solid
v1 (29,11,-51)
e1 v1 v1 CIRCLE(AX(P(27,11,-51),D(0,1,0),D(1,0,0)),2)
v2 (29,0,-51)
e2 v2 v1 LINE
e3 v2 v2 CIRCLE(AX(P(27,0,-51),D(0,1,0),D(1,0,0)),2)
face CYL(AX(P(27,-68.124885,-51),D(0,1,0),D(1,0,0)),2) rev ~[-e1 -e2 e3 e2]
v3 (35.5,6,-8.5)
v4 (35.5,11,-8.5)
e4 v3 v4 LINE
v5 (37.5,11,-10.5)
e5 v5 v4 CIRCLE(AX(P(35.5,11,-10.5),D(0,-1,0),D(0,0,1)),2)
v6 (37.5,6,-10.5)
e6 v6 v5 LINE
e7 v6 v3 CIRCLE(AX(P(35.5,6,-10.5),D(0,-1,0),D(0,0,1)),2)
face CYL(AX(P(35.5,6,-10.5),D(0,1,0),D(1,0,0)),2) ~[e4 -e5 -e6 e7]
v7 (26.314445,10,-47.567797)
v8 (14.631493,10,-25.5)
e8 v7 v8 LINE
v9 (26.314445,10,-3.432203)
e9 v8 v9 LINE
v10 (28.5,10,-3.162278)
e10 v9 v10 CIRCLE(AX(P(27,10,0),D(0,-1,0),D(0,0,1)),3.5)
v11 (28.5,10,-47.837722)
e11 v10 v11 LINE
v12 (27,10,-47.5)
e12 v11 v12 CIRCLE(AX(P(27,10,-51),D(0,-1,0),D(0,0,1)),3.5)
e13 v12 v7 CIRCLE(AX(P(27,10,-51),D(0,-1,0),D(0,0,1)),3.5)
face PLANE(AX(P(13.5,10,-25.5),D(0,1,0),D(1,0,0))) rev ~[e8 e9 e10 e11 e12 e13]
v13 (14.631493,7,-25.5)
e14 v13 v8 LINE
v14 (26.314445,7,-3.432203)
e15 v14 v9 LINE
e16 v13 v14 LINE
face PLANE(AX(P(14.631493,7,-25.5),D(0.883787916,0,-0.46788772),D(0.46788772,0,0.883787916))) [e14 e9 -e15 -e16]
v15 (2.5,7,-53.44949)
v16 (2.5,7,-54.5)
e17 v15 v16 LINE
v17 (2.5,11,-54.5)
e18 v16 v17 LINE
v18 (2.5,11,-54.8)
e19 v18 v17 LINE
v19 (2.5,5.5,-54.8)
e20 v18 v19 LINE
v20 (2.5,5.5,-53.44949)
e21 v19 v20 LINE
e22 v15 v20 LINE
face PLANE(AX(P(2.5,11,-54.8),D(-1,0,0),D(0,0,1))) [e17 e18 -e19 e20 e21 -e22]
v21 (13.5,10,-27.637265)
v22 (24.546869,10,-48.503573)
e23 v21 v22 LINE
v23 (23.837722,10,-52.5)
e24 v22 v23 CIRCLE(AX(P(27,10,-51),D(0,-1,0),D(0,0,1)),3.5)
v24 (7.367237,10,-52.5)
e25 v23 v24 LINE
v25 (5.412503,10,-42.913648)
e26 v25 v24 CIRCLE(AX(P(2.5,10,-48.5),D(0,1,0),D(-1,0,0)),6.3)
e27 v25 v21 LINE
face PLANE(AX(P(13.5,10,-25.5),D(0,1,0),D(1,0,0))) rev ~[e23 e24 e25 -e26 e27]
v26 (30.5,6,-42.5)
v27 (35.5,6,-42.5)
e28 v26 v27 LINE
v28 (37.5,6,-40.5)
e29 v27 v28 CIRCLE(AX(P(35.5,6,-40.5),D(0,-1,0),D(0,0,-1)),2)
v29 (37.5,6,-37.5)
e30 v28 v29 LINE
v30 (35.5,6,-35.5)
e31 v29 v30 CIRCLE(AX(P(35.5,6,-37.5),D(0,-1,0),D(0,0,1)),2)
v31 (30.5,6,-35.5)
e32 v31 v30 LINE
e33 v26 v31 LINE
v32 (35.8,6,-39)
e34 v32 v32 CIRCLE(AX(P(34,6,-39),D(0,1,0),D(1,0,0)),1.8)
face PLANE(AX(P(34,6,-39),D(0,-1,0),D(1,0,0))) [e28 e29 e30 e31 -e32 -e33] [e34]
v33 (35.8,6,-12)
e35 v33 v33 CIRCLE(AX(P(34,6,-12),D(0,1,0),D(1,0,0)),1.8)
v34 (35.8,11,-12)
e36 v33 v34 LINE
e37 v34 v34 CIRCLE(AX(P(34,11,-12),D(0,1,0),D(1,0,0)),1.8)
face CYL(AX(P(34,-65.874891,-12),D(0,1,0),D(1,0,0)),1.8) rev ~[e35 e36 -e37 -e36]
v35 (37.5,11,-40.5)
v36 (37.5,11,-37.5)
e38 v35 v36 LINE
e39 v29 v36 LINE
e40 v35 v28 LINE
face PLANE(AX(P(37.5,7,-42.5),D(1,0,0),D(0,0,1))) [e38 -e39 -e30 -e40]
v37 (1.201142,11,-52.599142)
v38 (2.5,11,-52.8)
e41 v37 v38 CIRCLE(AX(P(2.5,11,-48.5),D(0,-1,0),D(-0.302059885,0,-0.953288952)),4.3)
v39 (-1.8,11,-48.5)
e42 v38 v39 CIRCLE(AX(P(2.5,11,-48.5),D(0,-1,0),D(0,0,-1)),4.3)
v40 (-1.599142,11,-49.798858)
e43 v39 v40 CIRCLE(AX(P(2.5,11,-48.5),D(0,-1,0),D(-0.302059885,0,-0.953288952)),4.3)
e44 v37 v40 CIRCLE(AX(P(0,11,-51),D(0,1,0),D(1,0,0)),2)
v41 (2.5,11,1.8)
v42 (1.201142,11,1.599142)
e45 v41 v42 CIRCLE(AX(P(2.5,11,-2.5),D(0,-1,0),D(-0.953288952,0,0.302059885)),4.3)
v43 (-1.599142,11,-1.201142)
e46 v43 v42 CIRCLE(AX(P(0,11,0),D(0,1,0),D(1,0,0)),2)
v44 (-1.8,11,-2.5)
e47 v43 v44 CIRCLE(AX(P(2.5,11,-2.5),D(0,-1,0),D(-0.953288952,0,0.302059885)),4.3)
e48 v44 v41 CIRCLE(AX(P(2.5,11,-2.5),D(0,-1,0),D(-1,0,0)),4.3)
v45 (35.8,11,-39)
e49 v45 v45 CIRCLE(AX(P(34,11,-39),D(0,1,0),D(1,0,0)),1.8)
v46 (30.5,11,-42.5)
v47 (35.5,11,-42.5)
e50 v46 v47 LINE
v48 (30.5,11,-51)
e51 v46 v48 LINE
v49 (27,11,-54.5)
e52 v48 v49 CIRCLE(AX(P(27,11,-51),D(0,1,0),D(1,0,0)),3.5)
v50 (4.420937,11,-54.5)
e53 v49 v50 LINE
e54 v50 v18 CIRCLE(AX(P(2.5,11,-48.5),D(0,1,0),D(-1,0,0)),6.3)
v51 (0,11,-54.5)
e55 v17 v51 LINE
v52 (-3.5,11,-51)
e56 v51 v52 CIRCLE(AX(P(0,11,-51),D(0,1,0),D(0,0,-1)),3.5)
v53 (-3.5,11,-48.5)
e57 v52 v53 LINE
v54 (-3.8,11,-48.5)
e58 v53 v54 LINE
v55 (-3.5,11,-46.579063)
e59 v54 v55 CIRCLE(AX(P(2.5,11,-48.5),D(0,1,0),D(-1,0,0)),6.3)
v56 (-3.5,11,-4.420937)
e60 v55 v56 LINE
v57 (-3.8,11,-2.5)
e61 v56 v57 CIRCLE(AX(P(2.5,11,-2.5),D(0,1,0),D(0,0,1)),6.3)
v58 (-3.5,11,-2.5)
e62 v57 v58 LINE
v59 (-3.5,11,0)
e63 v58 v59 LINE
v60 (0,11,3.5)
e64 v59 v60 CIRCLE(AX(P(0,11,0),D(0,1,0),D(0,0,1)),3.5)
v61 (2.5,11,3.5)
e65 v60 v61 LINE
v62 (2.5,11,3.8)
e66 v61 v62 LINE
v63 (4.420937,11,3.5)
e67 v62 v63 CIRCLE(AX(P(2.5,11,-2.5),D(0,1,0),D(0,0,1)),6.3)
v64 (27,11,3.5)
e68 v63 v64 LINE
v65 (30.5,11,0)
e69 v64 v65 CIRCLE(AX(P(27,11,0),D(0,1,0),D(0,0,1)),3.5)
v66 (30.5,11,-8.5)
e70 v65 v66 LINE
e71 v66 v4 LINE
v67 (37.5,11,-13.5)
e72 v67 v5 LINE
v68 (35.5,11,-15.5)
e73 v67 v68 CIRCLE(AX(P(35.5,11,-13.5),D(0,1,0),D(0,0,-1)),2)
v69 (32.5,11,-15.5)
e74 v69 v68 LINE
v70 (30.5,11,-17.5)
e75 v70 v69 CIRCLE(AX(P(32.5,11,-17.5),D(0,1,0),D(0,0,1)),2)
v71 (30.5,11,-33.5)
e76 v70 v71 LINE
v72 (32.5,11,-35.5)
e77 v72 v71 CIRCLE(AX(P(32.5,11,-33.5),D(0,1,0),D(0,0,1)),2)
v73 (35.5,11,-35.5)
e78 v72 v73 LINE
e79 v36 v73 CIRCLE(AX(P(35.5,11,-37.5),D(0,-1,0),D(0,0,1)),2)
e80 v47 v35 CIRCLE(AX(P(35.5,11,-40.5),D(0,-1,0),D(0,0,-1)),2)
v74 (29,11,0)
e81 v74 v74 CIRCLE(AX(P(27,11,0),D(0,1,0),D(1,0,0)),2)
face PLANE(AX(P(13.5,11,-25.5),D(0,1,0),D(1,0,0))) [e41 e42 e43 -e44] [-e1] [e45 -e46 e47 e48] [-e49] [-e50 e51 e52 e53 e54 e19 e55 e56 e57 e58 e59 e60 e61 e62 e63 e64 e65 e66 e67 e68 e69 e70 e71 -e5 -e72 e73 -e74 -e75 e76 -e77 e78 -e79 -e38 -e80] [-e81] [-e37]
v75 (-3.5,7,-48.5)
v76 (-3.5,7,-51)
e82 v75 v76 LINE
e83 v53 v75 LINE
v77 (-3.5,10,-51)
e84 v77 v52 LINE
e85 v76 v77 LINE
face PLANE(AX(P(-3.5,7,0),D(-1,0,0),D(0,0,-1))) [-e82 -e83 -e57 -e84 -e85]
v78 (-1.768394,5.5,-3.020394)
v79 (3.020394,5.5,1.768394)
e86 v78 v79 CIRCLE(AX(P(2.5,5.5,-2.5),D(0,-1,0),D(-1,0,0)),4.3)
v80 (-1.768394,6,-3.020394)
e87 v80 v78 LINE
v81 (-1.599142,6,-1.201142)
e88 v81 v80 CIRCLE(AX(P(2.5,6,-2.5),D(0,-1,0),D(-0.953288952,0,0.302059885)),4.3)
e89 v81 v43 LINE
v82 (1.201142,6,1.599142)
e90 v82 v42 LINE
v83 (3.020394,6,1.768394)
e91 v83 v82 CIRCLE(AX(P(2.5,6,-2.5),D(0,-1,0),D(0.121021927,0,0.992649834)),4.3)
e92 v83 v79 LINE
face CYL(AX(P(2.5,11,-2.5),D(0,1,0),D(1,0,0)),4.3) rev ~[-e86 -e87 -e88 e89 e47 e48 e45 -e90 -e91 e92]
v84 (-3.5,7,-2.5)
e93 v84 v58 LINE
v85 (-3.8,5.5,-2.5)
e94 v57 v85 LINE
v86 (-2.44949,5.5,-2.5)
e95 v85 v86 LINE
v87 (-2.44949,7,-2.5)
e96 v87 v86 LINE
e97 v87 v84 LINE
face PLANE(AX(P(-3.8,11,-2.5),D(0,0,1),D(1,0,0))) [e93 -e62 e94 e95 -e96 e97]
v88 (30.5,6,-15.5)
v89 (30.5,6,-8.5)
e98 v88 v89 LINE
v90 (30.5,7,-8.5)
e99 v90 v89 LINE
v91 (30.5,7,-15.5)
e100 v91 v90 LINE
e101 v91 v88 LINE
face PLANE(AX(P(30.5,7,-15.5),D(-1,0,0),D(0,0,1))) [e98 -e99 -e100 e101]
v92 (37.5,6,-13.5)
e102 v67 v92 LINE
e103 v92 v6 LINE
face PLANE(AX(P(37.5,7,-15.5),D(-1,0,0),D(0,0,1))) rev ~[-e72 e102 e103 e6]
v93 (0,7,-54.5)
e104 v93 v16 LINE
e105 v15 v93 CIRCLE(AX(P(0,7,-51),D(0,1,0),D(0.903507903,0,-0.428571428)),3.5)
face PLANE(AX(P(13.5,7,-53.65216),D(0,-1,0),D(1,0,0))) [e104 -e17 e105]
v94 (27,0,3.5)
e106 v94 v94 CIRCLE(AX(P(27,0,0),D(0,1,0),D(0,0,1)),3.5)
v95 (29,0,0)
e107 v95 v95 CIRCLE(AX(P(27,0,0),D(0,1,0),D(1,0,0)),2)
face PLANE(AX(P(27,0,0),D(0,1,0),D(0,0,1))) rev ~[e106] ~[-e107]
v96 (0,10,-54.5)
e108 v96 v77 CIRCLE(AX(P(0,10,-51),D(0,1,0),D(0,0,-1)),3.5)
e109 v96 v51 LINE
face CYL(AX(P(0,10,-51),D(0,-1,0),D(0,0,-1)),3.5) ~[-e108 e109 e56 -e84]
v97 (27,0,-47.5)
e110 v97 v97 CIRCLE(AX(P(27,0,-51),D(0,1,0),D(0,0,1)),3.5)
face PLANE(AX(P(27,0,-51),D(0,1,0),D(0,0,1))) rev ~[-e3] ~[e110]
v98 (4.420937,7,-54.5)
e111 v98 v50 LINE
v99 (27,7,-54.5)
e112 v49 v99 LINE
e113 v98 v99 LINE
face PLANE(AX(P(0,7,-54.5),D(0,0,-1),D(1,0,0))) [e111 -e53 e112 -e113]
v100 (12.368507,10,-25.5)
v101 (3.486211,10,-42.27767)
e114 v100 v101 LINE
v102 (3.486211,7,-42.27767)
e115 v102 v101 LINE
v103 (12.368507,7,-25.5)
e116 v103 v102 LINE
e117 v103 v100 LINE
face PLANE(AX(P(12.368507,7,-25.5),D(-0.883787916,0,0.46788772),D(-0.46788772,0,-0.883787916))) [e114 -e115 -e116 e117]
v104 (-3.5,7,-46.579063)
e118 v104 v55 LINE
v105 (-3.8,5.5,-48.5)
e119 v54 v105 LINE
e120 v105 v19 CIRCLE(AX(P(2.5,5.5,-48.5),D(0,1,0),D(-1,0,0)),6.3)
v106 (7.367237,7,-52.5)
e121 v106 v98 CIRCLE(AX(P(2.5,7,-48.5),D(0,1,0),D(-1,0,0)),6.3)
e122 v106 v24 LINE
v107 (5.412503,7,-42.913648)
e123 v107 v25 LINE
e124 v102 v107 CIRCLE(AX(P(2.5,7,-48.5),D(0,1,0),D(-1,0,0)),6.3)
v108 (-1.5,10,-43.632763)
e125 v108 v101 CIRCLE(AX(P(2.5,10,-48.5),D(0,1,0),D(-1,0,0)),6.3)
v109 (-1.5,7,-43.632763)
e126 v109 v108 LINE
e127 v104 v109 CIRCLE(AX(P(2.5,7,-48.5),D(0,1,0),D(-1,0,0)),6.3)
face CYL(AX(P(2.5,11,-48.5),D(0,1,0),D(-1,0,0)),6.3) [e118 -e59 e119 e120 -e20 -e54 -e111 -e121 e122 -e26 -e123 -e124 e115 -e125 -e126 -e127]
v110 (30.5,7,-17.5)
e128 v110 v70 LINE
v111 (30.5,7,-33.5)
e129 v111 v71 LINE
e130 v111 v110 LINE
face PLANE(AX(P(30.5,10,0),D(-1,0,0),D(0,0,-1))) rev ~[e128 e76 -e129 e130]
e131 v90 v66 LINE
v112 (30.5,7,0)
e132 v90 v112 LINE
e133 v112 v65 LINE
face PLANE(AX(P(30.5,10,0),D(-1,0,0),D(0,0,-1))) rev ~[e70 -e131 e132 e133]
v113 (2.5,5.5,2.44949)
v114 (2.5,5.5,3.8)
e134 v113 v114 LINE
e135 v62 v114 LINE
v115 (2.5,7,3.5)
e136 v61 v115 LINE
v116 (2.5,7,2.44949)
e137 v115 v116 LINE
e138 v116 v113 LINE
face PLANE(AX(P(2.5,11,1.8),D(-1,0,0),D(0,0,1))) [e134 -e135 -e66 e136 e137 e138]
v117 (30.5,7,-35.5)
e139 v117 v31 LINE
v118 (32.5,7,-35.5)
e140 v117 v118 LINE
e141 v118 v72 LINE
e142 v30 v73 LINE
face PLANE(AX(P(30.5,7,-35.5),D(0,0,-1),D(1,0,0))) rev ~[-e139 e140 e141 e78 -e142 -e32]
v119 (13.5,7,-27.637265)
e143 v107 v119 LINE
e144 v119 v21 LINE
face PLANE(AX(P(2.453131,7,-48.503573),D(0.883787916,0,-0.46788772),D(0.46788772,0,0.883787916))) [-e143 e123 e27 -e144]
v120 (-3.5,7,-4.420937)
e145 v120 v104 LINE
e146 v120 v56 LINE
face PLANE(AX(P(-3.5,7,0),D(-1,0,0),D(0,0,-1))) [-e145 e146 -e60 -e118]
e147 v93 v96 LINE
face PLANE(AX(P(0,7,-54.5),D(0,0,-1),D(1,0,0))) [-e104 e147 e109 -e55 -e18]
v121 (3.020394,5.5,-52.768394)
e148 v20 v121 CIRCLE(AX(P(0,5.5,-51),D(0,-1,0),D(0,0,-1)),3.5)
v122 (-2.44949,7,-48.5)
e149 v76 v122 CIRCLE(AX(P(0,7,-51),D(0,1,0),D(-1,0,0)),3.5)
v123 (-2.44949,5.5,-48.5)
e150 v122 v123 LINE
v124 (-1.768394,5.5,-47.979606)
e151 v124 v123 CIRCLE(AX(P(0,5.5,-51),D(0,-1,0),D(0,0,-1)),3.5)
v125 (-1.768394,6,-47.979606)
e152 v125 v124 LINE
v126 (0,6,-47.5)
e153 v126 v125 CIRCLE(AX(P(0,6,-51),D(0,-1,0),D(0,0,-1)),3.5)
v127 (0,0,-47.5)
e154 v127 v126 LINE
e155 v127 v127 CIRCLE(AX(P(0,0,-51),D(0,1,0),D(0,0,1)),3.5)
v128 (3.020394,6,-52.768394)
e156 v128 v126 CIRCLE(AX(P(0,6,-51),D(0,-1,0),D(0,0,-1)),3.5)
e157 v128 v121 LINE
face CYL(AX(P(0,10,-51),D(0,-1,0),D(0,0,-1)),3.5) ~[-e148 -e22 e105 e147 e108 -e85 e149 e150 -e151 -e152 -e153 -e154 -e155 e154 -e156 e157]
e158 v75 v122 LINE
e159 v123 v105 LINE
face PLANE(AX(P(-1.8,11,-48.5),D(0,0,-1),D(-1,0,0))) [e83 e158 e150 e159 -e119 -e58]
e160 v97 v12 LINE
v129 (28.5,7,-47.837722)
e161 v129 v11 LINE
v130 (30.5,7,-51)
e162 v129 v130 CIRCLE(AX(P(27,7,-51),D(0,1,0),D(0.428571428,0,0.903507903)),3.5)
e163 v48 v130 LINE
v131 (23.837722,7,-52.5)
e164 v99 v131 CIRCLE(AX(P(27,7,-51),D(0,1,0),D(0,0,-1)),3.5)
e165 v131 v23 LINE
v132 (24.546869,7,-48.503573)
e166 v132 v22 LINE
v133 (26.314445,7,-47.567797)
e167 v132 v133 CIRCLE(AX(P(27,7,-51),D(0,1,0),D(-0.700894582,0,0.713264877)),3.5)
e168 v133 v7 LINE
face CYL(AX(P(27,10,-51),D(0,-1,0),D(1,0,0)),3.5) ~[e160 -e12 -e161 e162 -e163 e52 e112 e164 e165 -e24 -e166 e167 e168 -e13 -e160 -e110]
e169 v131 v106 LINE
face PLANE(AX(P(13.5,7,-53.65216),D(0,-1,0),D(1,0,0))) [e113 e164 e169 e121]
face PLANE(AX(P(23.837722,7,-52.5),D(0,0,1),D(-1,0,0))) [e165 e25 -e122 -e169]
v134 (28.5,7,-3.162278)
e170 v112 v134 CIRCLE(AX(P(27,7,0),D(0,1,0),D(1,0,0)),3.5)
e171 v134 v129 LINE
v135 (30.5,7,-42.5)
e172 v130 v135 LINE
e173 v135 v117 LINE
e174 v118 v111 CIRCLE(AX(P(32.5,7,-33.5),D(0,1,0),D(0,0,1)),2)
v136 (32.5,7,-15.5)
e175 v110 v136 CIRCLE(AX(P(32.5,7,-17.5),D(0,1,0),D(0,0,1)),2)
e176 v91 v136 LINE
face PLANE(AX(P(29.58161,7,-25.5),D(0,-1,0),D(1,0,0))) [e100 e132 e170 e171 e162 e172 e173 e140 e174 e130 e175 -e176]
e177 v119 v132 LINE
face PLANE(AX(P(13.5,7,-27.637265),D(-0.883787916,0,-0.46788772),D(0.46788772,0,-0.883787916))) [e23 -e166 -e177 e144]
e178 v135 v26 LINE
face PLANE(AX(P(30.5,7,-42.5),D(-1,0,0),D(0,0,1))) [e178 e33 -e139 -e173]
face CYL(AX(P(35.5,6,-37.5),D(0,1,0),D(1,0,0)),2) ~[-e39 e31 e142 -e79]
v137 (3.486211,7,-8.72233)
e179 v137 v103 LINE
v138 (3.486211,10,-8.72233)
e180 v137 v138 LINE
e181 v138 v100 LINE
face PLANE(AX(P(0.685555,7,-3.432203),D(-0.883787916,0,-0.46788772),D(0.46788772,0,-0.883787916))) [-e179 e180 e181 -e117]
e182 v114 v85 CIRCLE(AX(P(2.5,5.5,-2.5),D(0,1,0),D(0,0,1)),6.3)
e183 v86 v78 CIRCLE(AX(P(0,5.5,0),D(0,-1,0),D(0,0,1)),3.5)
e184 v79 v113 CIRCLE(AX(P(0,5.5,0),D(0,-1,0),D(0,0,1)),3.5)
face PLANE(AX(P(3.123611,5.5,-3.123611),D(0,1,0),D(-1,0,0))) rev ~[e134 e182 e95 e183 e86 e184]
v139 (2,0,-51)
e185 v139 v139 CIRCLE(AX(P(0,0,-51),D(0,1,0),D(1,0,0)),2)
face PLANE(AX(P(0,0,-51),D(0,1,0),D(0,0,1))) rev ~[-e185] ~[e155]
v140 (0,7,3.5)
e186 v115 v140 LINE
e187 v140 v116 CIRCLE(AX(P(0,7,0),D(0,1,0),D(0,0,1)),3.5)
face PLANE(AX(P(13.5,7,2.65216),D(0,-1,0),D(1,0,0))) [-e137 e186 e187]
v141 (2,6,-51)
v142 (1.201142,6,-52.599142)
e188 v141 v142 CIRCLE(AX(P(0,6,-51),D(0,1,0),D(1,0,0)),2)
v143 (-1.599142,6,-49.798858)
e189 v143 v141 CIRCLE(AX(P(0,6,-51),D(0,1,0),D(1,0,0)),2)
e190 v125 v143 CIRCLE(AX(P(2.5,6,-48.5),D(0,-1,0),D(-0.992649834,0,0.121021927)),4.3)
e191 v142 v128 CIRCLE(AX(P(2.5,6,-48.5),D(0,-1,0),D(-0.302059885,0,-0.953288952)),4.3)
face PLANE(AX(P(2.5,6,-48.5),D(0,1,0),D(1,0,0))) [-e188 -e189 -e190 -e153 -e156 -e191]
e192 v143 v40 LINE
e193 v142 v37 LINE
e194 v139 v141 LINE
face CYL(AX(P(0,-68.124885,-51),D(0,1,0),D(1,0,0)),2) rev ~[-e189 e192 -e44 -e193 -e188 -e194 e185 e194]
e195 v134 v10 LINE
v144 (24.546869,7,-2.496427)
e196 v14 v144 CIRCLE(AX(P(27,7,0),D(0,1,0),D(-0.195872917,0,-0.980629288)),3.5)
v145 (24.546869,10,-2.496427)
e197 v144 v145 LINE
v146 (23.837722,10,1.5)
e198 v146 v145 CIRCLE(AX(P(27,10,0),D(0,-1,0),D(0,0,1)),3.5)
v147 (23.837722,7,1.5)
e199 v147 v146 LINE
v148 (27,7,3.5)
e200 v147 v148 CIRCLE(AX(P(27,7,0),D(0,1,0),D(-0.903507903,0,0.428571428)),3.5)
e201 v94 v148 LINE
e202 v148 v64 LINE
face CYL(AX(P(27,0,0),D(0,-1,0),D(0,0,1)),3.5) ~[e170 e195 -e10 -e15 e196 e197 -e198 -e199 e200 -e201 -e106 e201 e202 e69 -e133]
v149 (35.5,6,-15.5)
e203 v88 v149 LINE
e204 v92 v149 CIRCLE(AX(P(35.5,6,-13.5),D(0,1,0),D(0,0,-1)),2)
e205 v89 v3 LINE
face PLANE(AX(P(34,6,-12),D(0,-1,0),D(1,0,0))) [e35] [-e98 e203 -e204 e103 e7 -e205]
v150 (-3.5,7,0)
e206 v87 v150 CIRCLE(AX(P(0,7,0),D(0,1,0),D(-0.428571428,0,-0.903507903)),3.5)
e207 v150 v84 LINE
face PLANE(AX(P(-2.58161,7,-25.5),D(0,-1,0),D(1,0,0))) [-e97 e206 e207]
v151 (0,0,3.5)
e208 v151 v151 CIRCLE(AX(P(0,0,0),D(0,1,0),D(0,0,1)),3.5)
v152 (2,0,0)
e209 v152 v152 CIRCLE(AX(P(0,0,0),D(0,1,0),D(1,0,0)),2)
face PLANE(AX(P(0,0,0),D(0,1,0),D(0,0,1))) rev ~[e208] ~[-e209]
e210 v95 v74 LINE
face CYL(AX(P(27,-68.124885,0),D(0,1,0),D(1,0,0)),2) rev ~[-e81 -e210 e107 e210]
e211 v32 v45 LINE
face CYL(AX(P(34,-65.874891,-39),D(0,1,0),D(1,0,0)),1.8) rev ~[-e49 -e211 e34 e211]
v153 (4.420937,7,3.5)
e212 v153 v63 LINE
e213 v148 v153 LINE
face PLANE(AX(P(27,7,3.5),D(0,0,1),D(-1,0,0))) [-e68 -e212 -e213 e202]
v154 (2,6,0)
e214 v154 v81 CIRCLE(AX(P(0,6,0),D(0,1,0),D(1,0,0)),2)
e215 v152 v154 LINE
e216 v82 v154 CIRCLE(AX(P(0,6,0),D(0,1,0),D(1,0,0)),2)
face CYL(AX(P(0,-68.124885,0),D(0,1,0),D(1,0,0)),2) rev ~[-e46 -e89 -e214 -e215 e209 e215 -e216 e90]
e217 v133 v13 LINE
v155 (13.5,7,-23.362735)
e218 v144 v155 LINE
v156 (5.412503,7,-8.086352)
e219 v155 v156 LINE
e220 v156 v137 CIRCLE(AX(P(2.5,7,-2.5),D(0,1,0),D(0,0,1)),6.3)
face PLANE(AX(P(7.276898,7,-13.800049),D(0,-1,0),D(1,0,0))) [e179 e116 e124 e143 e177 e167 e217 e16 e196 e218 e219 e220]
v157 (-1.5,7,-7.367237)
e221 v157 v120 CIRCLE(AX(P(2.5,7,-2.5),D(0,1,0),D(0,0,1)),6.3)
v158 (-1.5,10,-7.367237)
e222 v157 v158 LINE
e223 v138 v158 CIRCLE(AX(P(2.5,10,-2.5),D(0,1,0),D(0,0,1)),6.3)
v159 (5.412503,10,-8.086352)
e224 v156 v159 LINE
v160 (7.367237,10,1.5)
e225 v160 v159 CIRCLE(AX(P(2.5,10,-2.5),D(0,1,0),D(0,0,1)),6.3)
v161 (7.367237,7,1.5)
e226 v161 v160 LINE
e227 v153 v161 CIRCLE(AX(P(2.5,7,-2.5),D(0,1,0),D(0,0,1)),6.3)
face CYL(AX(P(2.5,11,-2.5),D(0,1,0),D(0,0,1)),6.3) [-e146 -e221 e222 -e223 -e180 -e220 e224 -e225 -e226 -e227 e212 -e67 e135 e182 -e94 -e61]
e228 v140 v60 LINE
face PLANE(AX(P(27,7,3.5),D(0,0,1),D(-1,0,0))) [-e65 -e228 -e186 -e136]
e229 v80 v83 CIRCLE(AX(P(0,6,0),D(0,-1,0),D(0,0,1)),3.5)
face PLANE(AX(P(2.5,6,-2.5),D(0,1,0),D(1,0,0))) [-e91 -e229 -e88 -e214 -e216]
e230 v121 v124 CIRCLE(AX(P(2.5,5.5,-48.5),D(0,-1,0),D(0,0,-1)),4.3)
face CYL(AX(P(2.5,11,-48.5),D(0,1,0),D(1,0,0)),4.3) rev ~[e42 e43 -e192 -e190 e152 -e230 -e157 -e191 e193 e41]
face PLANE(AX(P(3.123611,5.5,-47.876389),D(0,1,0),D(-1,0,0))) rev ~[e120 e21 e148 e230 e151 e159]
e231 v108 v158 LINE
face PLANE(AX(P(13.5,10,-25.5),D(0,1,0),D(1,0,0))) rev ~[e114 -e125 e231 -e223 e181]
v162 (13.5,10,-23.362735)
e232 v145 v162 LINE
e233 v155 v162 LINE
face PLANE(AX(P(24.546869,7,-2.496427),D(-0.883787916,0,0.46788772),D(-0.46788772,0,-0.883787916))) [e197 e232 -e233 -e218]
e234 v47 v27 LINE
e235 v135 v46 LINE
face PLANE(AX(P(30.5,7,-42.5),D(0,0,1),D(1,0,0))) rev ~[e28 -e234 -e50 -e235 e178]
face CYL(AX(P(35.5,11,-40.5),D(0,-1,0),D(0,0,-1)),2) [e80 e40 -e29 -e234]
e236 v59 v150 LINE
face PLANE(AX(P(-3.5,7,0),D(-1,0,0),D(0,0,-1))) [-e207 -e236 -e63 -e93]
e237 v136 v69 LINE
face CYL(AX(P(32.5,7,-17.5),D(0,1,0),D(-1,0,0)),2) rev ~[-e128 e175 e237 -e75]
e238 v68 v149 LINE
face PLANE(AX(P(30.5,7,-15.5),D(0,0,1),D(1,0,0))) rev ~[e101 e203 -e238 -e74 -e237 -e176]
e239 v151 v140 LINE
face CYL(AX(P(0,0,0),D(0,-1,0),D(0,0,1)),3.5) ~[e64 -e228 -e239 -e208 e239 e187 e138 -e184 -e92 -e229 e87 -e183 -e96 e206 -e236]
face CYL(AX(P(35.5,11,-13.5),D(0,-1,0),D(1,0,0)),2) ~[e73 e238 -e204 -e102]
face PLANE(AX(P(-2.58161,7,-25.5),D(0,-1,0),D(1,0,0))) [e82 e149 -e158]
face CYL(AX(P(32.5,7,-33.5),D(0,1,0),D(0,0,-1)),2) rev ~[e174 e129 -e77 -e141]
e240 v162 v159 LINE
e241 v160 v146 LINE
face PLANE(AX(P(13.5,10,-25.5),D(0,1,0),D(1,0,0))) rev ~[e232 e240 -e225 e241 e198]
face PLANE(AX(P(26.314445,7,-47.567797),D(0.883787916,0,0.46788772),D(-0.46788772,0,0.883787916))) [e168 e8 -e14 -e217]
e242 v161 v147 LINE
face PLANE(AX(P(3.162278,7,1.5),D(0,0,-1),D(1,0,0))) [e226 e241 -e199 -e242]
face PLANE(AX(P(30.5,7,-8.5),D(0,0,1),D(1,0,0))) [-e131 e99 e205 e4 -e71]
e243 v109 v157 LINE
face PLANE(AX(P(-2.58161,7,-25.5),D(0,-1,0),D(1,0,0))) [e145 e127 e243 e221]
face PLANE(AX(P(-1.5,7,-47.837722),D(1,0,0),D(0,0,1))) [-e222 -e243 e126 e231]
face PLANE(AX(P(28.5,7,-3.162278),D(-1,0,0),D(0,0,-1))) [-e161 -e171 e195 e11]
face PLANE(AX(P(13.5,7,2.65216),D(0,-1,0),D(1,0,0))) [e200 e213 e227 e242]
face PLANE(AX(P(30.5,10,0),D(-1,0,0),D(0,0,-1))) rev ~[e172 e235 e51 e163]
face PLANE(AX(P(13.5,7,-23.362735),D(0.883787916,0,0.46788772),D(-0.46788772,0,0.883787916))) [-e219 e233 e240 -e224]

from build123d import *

# Parameters (mm, degrees)
SKETCH1_R                       = 3.5
BOSS_EXTRUDE1_DEPTH             = 11
BOSS_EXTRUDE1_2_DEPTH           = 11
BOSS_EXTRUDE1_3_DEPTH           = 11
BOSS_EXTRUDE1_4_DEPTH           = 11
BOSS_EXTRUDE2_START             = -1
BOSS_EXTRUDE2_DEPTH             = 1
F_4_0MM_DOWEL_HOLE1_D           = 4
BOSS_EXTRUDE3_START             = 3
BOSS_EXTRUDE3_DEPTH             = 3
BOSS_EXTRUDE4_REACH             = 64.845
SKETCH11_W                      = 7
SKETCH11_H                      = 7
BOSS_EXTRUDE4_DIRECTION_2_DEPTH = 1
FILLET1_R                       = 2
M3_CLEARANCE_HOLE1_D            = 3.6
SKETCH15_R                      = 4.3
CUT_EXTRUDE1_DEPTH              = 5
BOSS_EXTRUDE6_START             = -1
BOSS_EXTRUDE6_DEPTH             = 5.5


with BuildPart() as part:
    # Sketch1 → Boss-Extrude1 (new body)
    with BuildSketch(Plane(origin=(0, 0, 0), x_dir=(1, 0, 0), z_dir=(0, 1, 0))):
        with Locations(Location((0, 51, 0), (0, 0, 270))):
            Circle(SKETCH1_R)
    extrude(amount=BOSS_EXTRUDE1_DEPTH)



with BuildPart() as body_2:
    # Sketch1 → Boss-Extrude1 2 (new body)
    with BuildSketch(Plane(origin=(0, 0, 0), x_dir=(1, 0, 0), z_dir=(0, 1, 0))):
        with Locations(Location((27, 51, 0), (0, 0, 270))):
            Circle(SKETCH1_R)
    extrude(amount=BOSS_EXTRUDE1_2_DEPTH)


with BuildPart() as body_3:
    # Sketch1 → Boss-Extrude1 3 (new body)
    with BuildSketch(Plane(origin=(0, 0, 0), x_dir=(1, 0, 0), z_dir=(0, 1, 0))):
        with Locations(Location((27, 0, 0), (0, 0, 270))):
            Circle(SKETCH1_R)
    extrude(amount=BOSS_EXTRUDE1_3_DEPTH)


with BuildPart() as body_4:
    # Sketch1 → Boss-Extrude1 4 (new body)
    with BuildSketch(Plane(origin=(0, 0, 0), x_dir=(1, 0, 0), z_dir=(0, 1, 0))):
        with Locations(Location((0, 0, 0), (0, 0, 270))):
            Circle(SKETCH1_R)
    extrude(amount=BOSS_EXTRUDE1_4_DEPTH)


with BuildPart() as part_1:
    add(part.part)

    add(body_2.part)  # Boss-Extrude2 merges body 2

    add(body_3.part)  # Boss-Extrude2 merges body 3

    add(body_4.part)  # Boss-Extrude2 merges body 4
    # Sketch2 → Boss-Extrude2 (add)
    with BuildSketch(Plane(origin=(0, 11, 0), x_dir=(1, 0, 0), z_dir=(0, 1, 0)).offset(BOSS_EXTRUDE2_START)):
        with BuildLine():
            Line((27, 54.5), (0, 54.5))
            ThreePointArc((0, 54.5), (-2.474873734, 53.474873734), (-3.5, 51))
            Line((-3.5, 51), (-3.5, 0))
            ThreePointArc((-3.5, 0), (-2.474873734, -2.474873734), (0, -3.5))
            Line((0, -3.5), (27, -3.5))
            ThreePointArc((27, -3.5), (29.474873734, -2.474873734), (30.5, 0))
            Line((30.5, 0), (30.5, 51))
            ThreePointArc((30.5, 51), (29.474873734, 53.474873734), (27, 54.5))
        make_face()
    extrude(amount=BOSS_EXTRUDE2_DEPTH)

    # Ø4.0mm Dowel Hole1 (through all)
    with Locations(Plane(origin=(0, 0, 0), x_dir=(-1, 0, 0), z_dir=(0, -1, 0))):
        with Locations((-27, 51), (0, 51), (0, 0), (-27, 0)):
            Hole(F_4_0MM_DOWEL_HOLE1_D / 2)

    # Sketch10 → Boss-Extrude3 (add)
    with BuildSketch(Plane.XZ.offset(-10).offset(BOSS_EXTRUDE3_START)):
        with BuildLine():
            ThreePointArc((-3.5, -51), (-2.958039892, -49.129171307), (-1.5, -47.83772234))
            Line((-1.5, -47.83772234), (-1.5, -3.16227766))
            ThreePointArc((-1.5, -3.16227766), (-2.958039892, -1.870828693), (-3.5, 0))
            Line((-3.5, 0), (-3.5, -51))
        make_face()
        with BuildLine():
            Line((3.16227766, 1.5), (23.83772234, 1.5))
            ThreePointArc((23.83772234, 1.5), (25.129171307, 2.958039892), (27, 3.5))
            Line((27, 3.5), (0, 3.5))
            ThreePointArc((0, 3.5), (1.870828693, 2.958039892), (3.16227766, 1.5))
        make_face()
        with BuildLine():
            Line((12.36850682, -25.5), (13.5, -23.362735104))
            Line((13.5, -23.362735104), (2.453131039, -2.496427068))
            ThreePointArc((2.453131039, -2.496427068), (1.637607021, -3.093257707), (0.685555207, -3.432202508))
            Line((0.685555207, -3.432202508), (12.36850682, -25.5))
        make_face()
        with BuildLine():
            ThreePointArc((26.314444793, -3.432202508), (25.362392979, -3.093257707), (24.546868961, -2.496427068))
            Line((24.546868961, -2.496427068), (13.5, -23.362735104))
            Line((13.5, -23.362735104), (14.63149318, -25.5))
            Line((14.63149318, -25.5), (26.314444793, -3.432202508))
        make_face()
        with BuildLine():
            ThreePointArc((30.5, 0), (29.958039892, -1.870828693), (28.5, -3.16227766))
            Line((28.5, -3.16227766), (28.5, -47.83772234))
            ThreePointArc((28.5, -47.83772234), (29.958039892, -49.129171307), (30.5, -51))
            Line((30.5, -51), (30.5, 0))
        make_face()
        with BuildLine():
            ThreePointArc((27, -54.5), (25.129171307, -53.958039892), (23.83772234, -52.5))
            Line((23.83772234, -52.5), (3.16227766, -52.5))
            ThreePointArc((3.16227766, -52.5), (1.870828693, -53.958039892), (0, -54.5))
            Line((0, -54.5), (27, -54.5))
        make_face()
        Polygon((14.63149318, -25.5), (13.5, -23.362735104), (12.36850682, -25.5), (13.5, -27.637264896), align=None)
        with BuildLine():
            Line((26.314444793, -47.567797492), (14.63149318, -25.5))
            Line((14.63149318, -25.5), (13.5, -27.637264896))
            Line((13.5, -27.637264896), (24.546868961, -48.503572932))
            ThreePointArc((24.546868961, -48.503572932), (25.362392979, -47.906742293), (26.314444793, -47.567797492))
        make_face()
        with BuildLine():
            Line((13.5, -27.637264896), (12.36850682, -25.5))
            Line((12.36850682, -25.5), (0.685555207, -47.567797492))
            ThreePointArc((0.685555207, -47.567797492), (1.637607021, -47.906742293), (2.453131039, -48.503572932))
            Line((2.453131039, -48.503572932), (13.5, -27.637264896))
        make_face()
    extrude(amount=-BOSS_EXTRUDE3_DEPTH)

    # Boss-Extrude4: up to this face of the body (flat: up to its plane)
    boss_extrude4_end = Plane(part_1.part.faces().sort_by_distance((13.5, 11, -25.5))[0])
    # Sketch11 → Boss-Extrude4 (add, up to the picked face)
    with BuildSketch(Plane.XZ.offset(-7), mode=Mode.PRIVATE) as boss_extrude4_sk1:
        with Locations((34, -12)):
            Rectangle(SKETCH11_W, SKETCH11_H)
    boss_extrude4_tool1 = split(extrude(boss_extrude4_sk1.sketch, amount=-BOSS_EXTRUDE4_REACH, mode=Mode.PRIVATE), bisect_by=boss_extrude4_end, keep=Keep.BOTH, mode=Mode.PRIVATE)
    # Sketch11 → Boss-Extrude4 (add, up to the picked face)
    with BuildSketch(Plane.XZ.offset(-7), mode=Mode.PRIVATE) as boss_extrude4_sk2:
        with Locations((34, -39)):
            Rectangle(SKETCH11_W, SKETCH11_H)
    boss_extrude4_tool2 = split(extrude(boss_extrude4_sk2.sketch, amount=-BOSS_EXTRUDE4_REACH, mode=Mode.PRIVATE), bisect_by=boss_extrude4_end, keep=Keep.BOTH, mode=Mode.PRIVATE)
    add(boss_extrude4_tool1.solids().sort_by(Axis((34, 7, -12), (0, 1, 0)))[0])
    add(boss_extrude4_tool2.solids().sort_by(Axis((34, 7, -39), (0, 1, 0)))[0])

    # Sketch11 → Boss-Extrude4 direction 2 (add)
    with BuildSketch(Plane.XZ.offset(-7)):
        with Locations((34, -12)):
            Rectangle(SKETCH11_W, SKETCH11_H)
        with Locations((34, -39)):
            Rectangle(SKETCH11_W, SKETCH11_H)
    extrude(amount=BOSS_EXTRUDE4_DIRECTION_2_DEPTH)

    # Fillet1
    fillet1_edges = [part_1.edges().sort_by_distance(p)[0] for p in [
        (30.5, 9, -15.5),
        (37.5, 8.5, -15.5),
        (37.5, 8.5, -8.5),
        (30.5, 9, -35.5),
        (37.5, 8.5, -42.5),
        (37.5, 8.5, -35.5),
    ]]
    fillet(fillet1_edges, radius=FILLET1_R)

    # M3 Clearance Hole1 (through all)
    with Locations(Plane(origin=(0, 6, 0), x_dir=(-1, 0, 0), z_dir=(0, -1, 0))):
        with Locations((-34, 12), (-34, 39)):
            Hole(M3_CLEARANCE_HOLE1_D / 2)

    # Sketch15 → Cut-Extrude1 (cut)
    with BuildSketch(Plane(origin=(0, 11, 0), x_dir=(1, 0, 0), z_dir=(0, 1, 0))):
        with Locations((2.5, 48.5)):
            Circle(SKETCH15_R)
        with Locations((2.5, 2.5)):
            Circle(SKETCH15_R)
    extrude(amount=-CUT_EXTRUDE1_DEPTH, mode=Mode.SUBTRACT)

    # Sketch17 → Boss-Extrude6 (add)
    with BuildSketch(Plane.XZ.offset(-10).offset(BOSS_EXTRUDE6_START)):
        with BuildLine():
            Line((2.5, 1.8), (2.5, 3.8))
            ThreePointArc((2.5, 3.8), (6.954772721, -6.954772721), (-3.8, -2.5))
            Line((-3.8, -2.5), (-1.8, -2.5))
            ThreePointArc((-1.8, -2.5), (5.540559159, -5.540559159), (2.5, 1.8))
        make_face()
        with BuildLine():
            Line((-1.8, -48.5), (-3.8, -48.5))
            ThreePointArc((-3.8, -48.5), (6.954772721, -44.045227279), (2.5, -54.8))
            Line((2.5, -54.8), (2.5, -52.8))
            ThreePointArc((2.5, -52.8), (5.540559159, -45.459440841), (-1.8, -48.5))
        make_face()
    extrude(amount=BOSS_EXTRUDE6_DEPTH)


solid = part_1.part
